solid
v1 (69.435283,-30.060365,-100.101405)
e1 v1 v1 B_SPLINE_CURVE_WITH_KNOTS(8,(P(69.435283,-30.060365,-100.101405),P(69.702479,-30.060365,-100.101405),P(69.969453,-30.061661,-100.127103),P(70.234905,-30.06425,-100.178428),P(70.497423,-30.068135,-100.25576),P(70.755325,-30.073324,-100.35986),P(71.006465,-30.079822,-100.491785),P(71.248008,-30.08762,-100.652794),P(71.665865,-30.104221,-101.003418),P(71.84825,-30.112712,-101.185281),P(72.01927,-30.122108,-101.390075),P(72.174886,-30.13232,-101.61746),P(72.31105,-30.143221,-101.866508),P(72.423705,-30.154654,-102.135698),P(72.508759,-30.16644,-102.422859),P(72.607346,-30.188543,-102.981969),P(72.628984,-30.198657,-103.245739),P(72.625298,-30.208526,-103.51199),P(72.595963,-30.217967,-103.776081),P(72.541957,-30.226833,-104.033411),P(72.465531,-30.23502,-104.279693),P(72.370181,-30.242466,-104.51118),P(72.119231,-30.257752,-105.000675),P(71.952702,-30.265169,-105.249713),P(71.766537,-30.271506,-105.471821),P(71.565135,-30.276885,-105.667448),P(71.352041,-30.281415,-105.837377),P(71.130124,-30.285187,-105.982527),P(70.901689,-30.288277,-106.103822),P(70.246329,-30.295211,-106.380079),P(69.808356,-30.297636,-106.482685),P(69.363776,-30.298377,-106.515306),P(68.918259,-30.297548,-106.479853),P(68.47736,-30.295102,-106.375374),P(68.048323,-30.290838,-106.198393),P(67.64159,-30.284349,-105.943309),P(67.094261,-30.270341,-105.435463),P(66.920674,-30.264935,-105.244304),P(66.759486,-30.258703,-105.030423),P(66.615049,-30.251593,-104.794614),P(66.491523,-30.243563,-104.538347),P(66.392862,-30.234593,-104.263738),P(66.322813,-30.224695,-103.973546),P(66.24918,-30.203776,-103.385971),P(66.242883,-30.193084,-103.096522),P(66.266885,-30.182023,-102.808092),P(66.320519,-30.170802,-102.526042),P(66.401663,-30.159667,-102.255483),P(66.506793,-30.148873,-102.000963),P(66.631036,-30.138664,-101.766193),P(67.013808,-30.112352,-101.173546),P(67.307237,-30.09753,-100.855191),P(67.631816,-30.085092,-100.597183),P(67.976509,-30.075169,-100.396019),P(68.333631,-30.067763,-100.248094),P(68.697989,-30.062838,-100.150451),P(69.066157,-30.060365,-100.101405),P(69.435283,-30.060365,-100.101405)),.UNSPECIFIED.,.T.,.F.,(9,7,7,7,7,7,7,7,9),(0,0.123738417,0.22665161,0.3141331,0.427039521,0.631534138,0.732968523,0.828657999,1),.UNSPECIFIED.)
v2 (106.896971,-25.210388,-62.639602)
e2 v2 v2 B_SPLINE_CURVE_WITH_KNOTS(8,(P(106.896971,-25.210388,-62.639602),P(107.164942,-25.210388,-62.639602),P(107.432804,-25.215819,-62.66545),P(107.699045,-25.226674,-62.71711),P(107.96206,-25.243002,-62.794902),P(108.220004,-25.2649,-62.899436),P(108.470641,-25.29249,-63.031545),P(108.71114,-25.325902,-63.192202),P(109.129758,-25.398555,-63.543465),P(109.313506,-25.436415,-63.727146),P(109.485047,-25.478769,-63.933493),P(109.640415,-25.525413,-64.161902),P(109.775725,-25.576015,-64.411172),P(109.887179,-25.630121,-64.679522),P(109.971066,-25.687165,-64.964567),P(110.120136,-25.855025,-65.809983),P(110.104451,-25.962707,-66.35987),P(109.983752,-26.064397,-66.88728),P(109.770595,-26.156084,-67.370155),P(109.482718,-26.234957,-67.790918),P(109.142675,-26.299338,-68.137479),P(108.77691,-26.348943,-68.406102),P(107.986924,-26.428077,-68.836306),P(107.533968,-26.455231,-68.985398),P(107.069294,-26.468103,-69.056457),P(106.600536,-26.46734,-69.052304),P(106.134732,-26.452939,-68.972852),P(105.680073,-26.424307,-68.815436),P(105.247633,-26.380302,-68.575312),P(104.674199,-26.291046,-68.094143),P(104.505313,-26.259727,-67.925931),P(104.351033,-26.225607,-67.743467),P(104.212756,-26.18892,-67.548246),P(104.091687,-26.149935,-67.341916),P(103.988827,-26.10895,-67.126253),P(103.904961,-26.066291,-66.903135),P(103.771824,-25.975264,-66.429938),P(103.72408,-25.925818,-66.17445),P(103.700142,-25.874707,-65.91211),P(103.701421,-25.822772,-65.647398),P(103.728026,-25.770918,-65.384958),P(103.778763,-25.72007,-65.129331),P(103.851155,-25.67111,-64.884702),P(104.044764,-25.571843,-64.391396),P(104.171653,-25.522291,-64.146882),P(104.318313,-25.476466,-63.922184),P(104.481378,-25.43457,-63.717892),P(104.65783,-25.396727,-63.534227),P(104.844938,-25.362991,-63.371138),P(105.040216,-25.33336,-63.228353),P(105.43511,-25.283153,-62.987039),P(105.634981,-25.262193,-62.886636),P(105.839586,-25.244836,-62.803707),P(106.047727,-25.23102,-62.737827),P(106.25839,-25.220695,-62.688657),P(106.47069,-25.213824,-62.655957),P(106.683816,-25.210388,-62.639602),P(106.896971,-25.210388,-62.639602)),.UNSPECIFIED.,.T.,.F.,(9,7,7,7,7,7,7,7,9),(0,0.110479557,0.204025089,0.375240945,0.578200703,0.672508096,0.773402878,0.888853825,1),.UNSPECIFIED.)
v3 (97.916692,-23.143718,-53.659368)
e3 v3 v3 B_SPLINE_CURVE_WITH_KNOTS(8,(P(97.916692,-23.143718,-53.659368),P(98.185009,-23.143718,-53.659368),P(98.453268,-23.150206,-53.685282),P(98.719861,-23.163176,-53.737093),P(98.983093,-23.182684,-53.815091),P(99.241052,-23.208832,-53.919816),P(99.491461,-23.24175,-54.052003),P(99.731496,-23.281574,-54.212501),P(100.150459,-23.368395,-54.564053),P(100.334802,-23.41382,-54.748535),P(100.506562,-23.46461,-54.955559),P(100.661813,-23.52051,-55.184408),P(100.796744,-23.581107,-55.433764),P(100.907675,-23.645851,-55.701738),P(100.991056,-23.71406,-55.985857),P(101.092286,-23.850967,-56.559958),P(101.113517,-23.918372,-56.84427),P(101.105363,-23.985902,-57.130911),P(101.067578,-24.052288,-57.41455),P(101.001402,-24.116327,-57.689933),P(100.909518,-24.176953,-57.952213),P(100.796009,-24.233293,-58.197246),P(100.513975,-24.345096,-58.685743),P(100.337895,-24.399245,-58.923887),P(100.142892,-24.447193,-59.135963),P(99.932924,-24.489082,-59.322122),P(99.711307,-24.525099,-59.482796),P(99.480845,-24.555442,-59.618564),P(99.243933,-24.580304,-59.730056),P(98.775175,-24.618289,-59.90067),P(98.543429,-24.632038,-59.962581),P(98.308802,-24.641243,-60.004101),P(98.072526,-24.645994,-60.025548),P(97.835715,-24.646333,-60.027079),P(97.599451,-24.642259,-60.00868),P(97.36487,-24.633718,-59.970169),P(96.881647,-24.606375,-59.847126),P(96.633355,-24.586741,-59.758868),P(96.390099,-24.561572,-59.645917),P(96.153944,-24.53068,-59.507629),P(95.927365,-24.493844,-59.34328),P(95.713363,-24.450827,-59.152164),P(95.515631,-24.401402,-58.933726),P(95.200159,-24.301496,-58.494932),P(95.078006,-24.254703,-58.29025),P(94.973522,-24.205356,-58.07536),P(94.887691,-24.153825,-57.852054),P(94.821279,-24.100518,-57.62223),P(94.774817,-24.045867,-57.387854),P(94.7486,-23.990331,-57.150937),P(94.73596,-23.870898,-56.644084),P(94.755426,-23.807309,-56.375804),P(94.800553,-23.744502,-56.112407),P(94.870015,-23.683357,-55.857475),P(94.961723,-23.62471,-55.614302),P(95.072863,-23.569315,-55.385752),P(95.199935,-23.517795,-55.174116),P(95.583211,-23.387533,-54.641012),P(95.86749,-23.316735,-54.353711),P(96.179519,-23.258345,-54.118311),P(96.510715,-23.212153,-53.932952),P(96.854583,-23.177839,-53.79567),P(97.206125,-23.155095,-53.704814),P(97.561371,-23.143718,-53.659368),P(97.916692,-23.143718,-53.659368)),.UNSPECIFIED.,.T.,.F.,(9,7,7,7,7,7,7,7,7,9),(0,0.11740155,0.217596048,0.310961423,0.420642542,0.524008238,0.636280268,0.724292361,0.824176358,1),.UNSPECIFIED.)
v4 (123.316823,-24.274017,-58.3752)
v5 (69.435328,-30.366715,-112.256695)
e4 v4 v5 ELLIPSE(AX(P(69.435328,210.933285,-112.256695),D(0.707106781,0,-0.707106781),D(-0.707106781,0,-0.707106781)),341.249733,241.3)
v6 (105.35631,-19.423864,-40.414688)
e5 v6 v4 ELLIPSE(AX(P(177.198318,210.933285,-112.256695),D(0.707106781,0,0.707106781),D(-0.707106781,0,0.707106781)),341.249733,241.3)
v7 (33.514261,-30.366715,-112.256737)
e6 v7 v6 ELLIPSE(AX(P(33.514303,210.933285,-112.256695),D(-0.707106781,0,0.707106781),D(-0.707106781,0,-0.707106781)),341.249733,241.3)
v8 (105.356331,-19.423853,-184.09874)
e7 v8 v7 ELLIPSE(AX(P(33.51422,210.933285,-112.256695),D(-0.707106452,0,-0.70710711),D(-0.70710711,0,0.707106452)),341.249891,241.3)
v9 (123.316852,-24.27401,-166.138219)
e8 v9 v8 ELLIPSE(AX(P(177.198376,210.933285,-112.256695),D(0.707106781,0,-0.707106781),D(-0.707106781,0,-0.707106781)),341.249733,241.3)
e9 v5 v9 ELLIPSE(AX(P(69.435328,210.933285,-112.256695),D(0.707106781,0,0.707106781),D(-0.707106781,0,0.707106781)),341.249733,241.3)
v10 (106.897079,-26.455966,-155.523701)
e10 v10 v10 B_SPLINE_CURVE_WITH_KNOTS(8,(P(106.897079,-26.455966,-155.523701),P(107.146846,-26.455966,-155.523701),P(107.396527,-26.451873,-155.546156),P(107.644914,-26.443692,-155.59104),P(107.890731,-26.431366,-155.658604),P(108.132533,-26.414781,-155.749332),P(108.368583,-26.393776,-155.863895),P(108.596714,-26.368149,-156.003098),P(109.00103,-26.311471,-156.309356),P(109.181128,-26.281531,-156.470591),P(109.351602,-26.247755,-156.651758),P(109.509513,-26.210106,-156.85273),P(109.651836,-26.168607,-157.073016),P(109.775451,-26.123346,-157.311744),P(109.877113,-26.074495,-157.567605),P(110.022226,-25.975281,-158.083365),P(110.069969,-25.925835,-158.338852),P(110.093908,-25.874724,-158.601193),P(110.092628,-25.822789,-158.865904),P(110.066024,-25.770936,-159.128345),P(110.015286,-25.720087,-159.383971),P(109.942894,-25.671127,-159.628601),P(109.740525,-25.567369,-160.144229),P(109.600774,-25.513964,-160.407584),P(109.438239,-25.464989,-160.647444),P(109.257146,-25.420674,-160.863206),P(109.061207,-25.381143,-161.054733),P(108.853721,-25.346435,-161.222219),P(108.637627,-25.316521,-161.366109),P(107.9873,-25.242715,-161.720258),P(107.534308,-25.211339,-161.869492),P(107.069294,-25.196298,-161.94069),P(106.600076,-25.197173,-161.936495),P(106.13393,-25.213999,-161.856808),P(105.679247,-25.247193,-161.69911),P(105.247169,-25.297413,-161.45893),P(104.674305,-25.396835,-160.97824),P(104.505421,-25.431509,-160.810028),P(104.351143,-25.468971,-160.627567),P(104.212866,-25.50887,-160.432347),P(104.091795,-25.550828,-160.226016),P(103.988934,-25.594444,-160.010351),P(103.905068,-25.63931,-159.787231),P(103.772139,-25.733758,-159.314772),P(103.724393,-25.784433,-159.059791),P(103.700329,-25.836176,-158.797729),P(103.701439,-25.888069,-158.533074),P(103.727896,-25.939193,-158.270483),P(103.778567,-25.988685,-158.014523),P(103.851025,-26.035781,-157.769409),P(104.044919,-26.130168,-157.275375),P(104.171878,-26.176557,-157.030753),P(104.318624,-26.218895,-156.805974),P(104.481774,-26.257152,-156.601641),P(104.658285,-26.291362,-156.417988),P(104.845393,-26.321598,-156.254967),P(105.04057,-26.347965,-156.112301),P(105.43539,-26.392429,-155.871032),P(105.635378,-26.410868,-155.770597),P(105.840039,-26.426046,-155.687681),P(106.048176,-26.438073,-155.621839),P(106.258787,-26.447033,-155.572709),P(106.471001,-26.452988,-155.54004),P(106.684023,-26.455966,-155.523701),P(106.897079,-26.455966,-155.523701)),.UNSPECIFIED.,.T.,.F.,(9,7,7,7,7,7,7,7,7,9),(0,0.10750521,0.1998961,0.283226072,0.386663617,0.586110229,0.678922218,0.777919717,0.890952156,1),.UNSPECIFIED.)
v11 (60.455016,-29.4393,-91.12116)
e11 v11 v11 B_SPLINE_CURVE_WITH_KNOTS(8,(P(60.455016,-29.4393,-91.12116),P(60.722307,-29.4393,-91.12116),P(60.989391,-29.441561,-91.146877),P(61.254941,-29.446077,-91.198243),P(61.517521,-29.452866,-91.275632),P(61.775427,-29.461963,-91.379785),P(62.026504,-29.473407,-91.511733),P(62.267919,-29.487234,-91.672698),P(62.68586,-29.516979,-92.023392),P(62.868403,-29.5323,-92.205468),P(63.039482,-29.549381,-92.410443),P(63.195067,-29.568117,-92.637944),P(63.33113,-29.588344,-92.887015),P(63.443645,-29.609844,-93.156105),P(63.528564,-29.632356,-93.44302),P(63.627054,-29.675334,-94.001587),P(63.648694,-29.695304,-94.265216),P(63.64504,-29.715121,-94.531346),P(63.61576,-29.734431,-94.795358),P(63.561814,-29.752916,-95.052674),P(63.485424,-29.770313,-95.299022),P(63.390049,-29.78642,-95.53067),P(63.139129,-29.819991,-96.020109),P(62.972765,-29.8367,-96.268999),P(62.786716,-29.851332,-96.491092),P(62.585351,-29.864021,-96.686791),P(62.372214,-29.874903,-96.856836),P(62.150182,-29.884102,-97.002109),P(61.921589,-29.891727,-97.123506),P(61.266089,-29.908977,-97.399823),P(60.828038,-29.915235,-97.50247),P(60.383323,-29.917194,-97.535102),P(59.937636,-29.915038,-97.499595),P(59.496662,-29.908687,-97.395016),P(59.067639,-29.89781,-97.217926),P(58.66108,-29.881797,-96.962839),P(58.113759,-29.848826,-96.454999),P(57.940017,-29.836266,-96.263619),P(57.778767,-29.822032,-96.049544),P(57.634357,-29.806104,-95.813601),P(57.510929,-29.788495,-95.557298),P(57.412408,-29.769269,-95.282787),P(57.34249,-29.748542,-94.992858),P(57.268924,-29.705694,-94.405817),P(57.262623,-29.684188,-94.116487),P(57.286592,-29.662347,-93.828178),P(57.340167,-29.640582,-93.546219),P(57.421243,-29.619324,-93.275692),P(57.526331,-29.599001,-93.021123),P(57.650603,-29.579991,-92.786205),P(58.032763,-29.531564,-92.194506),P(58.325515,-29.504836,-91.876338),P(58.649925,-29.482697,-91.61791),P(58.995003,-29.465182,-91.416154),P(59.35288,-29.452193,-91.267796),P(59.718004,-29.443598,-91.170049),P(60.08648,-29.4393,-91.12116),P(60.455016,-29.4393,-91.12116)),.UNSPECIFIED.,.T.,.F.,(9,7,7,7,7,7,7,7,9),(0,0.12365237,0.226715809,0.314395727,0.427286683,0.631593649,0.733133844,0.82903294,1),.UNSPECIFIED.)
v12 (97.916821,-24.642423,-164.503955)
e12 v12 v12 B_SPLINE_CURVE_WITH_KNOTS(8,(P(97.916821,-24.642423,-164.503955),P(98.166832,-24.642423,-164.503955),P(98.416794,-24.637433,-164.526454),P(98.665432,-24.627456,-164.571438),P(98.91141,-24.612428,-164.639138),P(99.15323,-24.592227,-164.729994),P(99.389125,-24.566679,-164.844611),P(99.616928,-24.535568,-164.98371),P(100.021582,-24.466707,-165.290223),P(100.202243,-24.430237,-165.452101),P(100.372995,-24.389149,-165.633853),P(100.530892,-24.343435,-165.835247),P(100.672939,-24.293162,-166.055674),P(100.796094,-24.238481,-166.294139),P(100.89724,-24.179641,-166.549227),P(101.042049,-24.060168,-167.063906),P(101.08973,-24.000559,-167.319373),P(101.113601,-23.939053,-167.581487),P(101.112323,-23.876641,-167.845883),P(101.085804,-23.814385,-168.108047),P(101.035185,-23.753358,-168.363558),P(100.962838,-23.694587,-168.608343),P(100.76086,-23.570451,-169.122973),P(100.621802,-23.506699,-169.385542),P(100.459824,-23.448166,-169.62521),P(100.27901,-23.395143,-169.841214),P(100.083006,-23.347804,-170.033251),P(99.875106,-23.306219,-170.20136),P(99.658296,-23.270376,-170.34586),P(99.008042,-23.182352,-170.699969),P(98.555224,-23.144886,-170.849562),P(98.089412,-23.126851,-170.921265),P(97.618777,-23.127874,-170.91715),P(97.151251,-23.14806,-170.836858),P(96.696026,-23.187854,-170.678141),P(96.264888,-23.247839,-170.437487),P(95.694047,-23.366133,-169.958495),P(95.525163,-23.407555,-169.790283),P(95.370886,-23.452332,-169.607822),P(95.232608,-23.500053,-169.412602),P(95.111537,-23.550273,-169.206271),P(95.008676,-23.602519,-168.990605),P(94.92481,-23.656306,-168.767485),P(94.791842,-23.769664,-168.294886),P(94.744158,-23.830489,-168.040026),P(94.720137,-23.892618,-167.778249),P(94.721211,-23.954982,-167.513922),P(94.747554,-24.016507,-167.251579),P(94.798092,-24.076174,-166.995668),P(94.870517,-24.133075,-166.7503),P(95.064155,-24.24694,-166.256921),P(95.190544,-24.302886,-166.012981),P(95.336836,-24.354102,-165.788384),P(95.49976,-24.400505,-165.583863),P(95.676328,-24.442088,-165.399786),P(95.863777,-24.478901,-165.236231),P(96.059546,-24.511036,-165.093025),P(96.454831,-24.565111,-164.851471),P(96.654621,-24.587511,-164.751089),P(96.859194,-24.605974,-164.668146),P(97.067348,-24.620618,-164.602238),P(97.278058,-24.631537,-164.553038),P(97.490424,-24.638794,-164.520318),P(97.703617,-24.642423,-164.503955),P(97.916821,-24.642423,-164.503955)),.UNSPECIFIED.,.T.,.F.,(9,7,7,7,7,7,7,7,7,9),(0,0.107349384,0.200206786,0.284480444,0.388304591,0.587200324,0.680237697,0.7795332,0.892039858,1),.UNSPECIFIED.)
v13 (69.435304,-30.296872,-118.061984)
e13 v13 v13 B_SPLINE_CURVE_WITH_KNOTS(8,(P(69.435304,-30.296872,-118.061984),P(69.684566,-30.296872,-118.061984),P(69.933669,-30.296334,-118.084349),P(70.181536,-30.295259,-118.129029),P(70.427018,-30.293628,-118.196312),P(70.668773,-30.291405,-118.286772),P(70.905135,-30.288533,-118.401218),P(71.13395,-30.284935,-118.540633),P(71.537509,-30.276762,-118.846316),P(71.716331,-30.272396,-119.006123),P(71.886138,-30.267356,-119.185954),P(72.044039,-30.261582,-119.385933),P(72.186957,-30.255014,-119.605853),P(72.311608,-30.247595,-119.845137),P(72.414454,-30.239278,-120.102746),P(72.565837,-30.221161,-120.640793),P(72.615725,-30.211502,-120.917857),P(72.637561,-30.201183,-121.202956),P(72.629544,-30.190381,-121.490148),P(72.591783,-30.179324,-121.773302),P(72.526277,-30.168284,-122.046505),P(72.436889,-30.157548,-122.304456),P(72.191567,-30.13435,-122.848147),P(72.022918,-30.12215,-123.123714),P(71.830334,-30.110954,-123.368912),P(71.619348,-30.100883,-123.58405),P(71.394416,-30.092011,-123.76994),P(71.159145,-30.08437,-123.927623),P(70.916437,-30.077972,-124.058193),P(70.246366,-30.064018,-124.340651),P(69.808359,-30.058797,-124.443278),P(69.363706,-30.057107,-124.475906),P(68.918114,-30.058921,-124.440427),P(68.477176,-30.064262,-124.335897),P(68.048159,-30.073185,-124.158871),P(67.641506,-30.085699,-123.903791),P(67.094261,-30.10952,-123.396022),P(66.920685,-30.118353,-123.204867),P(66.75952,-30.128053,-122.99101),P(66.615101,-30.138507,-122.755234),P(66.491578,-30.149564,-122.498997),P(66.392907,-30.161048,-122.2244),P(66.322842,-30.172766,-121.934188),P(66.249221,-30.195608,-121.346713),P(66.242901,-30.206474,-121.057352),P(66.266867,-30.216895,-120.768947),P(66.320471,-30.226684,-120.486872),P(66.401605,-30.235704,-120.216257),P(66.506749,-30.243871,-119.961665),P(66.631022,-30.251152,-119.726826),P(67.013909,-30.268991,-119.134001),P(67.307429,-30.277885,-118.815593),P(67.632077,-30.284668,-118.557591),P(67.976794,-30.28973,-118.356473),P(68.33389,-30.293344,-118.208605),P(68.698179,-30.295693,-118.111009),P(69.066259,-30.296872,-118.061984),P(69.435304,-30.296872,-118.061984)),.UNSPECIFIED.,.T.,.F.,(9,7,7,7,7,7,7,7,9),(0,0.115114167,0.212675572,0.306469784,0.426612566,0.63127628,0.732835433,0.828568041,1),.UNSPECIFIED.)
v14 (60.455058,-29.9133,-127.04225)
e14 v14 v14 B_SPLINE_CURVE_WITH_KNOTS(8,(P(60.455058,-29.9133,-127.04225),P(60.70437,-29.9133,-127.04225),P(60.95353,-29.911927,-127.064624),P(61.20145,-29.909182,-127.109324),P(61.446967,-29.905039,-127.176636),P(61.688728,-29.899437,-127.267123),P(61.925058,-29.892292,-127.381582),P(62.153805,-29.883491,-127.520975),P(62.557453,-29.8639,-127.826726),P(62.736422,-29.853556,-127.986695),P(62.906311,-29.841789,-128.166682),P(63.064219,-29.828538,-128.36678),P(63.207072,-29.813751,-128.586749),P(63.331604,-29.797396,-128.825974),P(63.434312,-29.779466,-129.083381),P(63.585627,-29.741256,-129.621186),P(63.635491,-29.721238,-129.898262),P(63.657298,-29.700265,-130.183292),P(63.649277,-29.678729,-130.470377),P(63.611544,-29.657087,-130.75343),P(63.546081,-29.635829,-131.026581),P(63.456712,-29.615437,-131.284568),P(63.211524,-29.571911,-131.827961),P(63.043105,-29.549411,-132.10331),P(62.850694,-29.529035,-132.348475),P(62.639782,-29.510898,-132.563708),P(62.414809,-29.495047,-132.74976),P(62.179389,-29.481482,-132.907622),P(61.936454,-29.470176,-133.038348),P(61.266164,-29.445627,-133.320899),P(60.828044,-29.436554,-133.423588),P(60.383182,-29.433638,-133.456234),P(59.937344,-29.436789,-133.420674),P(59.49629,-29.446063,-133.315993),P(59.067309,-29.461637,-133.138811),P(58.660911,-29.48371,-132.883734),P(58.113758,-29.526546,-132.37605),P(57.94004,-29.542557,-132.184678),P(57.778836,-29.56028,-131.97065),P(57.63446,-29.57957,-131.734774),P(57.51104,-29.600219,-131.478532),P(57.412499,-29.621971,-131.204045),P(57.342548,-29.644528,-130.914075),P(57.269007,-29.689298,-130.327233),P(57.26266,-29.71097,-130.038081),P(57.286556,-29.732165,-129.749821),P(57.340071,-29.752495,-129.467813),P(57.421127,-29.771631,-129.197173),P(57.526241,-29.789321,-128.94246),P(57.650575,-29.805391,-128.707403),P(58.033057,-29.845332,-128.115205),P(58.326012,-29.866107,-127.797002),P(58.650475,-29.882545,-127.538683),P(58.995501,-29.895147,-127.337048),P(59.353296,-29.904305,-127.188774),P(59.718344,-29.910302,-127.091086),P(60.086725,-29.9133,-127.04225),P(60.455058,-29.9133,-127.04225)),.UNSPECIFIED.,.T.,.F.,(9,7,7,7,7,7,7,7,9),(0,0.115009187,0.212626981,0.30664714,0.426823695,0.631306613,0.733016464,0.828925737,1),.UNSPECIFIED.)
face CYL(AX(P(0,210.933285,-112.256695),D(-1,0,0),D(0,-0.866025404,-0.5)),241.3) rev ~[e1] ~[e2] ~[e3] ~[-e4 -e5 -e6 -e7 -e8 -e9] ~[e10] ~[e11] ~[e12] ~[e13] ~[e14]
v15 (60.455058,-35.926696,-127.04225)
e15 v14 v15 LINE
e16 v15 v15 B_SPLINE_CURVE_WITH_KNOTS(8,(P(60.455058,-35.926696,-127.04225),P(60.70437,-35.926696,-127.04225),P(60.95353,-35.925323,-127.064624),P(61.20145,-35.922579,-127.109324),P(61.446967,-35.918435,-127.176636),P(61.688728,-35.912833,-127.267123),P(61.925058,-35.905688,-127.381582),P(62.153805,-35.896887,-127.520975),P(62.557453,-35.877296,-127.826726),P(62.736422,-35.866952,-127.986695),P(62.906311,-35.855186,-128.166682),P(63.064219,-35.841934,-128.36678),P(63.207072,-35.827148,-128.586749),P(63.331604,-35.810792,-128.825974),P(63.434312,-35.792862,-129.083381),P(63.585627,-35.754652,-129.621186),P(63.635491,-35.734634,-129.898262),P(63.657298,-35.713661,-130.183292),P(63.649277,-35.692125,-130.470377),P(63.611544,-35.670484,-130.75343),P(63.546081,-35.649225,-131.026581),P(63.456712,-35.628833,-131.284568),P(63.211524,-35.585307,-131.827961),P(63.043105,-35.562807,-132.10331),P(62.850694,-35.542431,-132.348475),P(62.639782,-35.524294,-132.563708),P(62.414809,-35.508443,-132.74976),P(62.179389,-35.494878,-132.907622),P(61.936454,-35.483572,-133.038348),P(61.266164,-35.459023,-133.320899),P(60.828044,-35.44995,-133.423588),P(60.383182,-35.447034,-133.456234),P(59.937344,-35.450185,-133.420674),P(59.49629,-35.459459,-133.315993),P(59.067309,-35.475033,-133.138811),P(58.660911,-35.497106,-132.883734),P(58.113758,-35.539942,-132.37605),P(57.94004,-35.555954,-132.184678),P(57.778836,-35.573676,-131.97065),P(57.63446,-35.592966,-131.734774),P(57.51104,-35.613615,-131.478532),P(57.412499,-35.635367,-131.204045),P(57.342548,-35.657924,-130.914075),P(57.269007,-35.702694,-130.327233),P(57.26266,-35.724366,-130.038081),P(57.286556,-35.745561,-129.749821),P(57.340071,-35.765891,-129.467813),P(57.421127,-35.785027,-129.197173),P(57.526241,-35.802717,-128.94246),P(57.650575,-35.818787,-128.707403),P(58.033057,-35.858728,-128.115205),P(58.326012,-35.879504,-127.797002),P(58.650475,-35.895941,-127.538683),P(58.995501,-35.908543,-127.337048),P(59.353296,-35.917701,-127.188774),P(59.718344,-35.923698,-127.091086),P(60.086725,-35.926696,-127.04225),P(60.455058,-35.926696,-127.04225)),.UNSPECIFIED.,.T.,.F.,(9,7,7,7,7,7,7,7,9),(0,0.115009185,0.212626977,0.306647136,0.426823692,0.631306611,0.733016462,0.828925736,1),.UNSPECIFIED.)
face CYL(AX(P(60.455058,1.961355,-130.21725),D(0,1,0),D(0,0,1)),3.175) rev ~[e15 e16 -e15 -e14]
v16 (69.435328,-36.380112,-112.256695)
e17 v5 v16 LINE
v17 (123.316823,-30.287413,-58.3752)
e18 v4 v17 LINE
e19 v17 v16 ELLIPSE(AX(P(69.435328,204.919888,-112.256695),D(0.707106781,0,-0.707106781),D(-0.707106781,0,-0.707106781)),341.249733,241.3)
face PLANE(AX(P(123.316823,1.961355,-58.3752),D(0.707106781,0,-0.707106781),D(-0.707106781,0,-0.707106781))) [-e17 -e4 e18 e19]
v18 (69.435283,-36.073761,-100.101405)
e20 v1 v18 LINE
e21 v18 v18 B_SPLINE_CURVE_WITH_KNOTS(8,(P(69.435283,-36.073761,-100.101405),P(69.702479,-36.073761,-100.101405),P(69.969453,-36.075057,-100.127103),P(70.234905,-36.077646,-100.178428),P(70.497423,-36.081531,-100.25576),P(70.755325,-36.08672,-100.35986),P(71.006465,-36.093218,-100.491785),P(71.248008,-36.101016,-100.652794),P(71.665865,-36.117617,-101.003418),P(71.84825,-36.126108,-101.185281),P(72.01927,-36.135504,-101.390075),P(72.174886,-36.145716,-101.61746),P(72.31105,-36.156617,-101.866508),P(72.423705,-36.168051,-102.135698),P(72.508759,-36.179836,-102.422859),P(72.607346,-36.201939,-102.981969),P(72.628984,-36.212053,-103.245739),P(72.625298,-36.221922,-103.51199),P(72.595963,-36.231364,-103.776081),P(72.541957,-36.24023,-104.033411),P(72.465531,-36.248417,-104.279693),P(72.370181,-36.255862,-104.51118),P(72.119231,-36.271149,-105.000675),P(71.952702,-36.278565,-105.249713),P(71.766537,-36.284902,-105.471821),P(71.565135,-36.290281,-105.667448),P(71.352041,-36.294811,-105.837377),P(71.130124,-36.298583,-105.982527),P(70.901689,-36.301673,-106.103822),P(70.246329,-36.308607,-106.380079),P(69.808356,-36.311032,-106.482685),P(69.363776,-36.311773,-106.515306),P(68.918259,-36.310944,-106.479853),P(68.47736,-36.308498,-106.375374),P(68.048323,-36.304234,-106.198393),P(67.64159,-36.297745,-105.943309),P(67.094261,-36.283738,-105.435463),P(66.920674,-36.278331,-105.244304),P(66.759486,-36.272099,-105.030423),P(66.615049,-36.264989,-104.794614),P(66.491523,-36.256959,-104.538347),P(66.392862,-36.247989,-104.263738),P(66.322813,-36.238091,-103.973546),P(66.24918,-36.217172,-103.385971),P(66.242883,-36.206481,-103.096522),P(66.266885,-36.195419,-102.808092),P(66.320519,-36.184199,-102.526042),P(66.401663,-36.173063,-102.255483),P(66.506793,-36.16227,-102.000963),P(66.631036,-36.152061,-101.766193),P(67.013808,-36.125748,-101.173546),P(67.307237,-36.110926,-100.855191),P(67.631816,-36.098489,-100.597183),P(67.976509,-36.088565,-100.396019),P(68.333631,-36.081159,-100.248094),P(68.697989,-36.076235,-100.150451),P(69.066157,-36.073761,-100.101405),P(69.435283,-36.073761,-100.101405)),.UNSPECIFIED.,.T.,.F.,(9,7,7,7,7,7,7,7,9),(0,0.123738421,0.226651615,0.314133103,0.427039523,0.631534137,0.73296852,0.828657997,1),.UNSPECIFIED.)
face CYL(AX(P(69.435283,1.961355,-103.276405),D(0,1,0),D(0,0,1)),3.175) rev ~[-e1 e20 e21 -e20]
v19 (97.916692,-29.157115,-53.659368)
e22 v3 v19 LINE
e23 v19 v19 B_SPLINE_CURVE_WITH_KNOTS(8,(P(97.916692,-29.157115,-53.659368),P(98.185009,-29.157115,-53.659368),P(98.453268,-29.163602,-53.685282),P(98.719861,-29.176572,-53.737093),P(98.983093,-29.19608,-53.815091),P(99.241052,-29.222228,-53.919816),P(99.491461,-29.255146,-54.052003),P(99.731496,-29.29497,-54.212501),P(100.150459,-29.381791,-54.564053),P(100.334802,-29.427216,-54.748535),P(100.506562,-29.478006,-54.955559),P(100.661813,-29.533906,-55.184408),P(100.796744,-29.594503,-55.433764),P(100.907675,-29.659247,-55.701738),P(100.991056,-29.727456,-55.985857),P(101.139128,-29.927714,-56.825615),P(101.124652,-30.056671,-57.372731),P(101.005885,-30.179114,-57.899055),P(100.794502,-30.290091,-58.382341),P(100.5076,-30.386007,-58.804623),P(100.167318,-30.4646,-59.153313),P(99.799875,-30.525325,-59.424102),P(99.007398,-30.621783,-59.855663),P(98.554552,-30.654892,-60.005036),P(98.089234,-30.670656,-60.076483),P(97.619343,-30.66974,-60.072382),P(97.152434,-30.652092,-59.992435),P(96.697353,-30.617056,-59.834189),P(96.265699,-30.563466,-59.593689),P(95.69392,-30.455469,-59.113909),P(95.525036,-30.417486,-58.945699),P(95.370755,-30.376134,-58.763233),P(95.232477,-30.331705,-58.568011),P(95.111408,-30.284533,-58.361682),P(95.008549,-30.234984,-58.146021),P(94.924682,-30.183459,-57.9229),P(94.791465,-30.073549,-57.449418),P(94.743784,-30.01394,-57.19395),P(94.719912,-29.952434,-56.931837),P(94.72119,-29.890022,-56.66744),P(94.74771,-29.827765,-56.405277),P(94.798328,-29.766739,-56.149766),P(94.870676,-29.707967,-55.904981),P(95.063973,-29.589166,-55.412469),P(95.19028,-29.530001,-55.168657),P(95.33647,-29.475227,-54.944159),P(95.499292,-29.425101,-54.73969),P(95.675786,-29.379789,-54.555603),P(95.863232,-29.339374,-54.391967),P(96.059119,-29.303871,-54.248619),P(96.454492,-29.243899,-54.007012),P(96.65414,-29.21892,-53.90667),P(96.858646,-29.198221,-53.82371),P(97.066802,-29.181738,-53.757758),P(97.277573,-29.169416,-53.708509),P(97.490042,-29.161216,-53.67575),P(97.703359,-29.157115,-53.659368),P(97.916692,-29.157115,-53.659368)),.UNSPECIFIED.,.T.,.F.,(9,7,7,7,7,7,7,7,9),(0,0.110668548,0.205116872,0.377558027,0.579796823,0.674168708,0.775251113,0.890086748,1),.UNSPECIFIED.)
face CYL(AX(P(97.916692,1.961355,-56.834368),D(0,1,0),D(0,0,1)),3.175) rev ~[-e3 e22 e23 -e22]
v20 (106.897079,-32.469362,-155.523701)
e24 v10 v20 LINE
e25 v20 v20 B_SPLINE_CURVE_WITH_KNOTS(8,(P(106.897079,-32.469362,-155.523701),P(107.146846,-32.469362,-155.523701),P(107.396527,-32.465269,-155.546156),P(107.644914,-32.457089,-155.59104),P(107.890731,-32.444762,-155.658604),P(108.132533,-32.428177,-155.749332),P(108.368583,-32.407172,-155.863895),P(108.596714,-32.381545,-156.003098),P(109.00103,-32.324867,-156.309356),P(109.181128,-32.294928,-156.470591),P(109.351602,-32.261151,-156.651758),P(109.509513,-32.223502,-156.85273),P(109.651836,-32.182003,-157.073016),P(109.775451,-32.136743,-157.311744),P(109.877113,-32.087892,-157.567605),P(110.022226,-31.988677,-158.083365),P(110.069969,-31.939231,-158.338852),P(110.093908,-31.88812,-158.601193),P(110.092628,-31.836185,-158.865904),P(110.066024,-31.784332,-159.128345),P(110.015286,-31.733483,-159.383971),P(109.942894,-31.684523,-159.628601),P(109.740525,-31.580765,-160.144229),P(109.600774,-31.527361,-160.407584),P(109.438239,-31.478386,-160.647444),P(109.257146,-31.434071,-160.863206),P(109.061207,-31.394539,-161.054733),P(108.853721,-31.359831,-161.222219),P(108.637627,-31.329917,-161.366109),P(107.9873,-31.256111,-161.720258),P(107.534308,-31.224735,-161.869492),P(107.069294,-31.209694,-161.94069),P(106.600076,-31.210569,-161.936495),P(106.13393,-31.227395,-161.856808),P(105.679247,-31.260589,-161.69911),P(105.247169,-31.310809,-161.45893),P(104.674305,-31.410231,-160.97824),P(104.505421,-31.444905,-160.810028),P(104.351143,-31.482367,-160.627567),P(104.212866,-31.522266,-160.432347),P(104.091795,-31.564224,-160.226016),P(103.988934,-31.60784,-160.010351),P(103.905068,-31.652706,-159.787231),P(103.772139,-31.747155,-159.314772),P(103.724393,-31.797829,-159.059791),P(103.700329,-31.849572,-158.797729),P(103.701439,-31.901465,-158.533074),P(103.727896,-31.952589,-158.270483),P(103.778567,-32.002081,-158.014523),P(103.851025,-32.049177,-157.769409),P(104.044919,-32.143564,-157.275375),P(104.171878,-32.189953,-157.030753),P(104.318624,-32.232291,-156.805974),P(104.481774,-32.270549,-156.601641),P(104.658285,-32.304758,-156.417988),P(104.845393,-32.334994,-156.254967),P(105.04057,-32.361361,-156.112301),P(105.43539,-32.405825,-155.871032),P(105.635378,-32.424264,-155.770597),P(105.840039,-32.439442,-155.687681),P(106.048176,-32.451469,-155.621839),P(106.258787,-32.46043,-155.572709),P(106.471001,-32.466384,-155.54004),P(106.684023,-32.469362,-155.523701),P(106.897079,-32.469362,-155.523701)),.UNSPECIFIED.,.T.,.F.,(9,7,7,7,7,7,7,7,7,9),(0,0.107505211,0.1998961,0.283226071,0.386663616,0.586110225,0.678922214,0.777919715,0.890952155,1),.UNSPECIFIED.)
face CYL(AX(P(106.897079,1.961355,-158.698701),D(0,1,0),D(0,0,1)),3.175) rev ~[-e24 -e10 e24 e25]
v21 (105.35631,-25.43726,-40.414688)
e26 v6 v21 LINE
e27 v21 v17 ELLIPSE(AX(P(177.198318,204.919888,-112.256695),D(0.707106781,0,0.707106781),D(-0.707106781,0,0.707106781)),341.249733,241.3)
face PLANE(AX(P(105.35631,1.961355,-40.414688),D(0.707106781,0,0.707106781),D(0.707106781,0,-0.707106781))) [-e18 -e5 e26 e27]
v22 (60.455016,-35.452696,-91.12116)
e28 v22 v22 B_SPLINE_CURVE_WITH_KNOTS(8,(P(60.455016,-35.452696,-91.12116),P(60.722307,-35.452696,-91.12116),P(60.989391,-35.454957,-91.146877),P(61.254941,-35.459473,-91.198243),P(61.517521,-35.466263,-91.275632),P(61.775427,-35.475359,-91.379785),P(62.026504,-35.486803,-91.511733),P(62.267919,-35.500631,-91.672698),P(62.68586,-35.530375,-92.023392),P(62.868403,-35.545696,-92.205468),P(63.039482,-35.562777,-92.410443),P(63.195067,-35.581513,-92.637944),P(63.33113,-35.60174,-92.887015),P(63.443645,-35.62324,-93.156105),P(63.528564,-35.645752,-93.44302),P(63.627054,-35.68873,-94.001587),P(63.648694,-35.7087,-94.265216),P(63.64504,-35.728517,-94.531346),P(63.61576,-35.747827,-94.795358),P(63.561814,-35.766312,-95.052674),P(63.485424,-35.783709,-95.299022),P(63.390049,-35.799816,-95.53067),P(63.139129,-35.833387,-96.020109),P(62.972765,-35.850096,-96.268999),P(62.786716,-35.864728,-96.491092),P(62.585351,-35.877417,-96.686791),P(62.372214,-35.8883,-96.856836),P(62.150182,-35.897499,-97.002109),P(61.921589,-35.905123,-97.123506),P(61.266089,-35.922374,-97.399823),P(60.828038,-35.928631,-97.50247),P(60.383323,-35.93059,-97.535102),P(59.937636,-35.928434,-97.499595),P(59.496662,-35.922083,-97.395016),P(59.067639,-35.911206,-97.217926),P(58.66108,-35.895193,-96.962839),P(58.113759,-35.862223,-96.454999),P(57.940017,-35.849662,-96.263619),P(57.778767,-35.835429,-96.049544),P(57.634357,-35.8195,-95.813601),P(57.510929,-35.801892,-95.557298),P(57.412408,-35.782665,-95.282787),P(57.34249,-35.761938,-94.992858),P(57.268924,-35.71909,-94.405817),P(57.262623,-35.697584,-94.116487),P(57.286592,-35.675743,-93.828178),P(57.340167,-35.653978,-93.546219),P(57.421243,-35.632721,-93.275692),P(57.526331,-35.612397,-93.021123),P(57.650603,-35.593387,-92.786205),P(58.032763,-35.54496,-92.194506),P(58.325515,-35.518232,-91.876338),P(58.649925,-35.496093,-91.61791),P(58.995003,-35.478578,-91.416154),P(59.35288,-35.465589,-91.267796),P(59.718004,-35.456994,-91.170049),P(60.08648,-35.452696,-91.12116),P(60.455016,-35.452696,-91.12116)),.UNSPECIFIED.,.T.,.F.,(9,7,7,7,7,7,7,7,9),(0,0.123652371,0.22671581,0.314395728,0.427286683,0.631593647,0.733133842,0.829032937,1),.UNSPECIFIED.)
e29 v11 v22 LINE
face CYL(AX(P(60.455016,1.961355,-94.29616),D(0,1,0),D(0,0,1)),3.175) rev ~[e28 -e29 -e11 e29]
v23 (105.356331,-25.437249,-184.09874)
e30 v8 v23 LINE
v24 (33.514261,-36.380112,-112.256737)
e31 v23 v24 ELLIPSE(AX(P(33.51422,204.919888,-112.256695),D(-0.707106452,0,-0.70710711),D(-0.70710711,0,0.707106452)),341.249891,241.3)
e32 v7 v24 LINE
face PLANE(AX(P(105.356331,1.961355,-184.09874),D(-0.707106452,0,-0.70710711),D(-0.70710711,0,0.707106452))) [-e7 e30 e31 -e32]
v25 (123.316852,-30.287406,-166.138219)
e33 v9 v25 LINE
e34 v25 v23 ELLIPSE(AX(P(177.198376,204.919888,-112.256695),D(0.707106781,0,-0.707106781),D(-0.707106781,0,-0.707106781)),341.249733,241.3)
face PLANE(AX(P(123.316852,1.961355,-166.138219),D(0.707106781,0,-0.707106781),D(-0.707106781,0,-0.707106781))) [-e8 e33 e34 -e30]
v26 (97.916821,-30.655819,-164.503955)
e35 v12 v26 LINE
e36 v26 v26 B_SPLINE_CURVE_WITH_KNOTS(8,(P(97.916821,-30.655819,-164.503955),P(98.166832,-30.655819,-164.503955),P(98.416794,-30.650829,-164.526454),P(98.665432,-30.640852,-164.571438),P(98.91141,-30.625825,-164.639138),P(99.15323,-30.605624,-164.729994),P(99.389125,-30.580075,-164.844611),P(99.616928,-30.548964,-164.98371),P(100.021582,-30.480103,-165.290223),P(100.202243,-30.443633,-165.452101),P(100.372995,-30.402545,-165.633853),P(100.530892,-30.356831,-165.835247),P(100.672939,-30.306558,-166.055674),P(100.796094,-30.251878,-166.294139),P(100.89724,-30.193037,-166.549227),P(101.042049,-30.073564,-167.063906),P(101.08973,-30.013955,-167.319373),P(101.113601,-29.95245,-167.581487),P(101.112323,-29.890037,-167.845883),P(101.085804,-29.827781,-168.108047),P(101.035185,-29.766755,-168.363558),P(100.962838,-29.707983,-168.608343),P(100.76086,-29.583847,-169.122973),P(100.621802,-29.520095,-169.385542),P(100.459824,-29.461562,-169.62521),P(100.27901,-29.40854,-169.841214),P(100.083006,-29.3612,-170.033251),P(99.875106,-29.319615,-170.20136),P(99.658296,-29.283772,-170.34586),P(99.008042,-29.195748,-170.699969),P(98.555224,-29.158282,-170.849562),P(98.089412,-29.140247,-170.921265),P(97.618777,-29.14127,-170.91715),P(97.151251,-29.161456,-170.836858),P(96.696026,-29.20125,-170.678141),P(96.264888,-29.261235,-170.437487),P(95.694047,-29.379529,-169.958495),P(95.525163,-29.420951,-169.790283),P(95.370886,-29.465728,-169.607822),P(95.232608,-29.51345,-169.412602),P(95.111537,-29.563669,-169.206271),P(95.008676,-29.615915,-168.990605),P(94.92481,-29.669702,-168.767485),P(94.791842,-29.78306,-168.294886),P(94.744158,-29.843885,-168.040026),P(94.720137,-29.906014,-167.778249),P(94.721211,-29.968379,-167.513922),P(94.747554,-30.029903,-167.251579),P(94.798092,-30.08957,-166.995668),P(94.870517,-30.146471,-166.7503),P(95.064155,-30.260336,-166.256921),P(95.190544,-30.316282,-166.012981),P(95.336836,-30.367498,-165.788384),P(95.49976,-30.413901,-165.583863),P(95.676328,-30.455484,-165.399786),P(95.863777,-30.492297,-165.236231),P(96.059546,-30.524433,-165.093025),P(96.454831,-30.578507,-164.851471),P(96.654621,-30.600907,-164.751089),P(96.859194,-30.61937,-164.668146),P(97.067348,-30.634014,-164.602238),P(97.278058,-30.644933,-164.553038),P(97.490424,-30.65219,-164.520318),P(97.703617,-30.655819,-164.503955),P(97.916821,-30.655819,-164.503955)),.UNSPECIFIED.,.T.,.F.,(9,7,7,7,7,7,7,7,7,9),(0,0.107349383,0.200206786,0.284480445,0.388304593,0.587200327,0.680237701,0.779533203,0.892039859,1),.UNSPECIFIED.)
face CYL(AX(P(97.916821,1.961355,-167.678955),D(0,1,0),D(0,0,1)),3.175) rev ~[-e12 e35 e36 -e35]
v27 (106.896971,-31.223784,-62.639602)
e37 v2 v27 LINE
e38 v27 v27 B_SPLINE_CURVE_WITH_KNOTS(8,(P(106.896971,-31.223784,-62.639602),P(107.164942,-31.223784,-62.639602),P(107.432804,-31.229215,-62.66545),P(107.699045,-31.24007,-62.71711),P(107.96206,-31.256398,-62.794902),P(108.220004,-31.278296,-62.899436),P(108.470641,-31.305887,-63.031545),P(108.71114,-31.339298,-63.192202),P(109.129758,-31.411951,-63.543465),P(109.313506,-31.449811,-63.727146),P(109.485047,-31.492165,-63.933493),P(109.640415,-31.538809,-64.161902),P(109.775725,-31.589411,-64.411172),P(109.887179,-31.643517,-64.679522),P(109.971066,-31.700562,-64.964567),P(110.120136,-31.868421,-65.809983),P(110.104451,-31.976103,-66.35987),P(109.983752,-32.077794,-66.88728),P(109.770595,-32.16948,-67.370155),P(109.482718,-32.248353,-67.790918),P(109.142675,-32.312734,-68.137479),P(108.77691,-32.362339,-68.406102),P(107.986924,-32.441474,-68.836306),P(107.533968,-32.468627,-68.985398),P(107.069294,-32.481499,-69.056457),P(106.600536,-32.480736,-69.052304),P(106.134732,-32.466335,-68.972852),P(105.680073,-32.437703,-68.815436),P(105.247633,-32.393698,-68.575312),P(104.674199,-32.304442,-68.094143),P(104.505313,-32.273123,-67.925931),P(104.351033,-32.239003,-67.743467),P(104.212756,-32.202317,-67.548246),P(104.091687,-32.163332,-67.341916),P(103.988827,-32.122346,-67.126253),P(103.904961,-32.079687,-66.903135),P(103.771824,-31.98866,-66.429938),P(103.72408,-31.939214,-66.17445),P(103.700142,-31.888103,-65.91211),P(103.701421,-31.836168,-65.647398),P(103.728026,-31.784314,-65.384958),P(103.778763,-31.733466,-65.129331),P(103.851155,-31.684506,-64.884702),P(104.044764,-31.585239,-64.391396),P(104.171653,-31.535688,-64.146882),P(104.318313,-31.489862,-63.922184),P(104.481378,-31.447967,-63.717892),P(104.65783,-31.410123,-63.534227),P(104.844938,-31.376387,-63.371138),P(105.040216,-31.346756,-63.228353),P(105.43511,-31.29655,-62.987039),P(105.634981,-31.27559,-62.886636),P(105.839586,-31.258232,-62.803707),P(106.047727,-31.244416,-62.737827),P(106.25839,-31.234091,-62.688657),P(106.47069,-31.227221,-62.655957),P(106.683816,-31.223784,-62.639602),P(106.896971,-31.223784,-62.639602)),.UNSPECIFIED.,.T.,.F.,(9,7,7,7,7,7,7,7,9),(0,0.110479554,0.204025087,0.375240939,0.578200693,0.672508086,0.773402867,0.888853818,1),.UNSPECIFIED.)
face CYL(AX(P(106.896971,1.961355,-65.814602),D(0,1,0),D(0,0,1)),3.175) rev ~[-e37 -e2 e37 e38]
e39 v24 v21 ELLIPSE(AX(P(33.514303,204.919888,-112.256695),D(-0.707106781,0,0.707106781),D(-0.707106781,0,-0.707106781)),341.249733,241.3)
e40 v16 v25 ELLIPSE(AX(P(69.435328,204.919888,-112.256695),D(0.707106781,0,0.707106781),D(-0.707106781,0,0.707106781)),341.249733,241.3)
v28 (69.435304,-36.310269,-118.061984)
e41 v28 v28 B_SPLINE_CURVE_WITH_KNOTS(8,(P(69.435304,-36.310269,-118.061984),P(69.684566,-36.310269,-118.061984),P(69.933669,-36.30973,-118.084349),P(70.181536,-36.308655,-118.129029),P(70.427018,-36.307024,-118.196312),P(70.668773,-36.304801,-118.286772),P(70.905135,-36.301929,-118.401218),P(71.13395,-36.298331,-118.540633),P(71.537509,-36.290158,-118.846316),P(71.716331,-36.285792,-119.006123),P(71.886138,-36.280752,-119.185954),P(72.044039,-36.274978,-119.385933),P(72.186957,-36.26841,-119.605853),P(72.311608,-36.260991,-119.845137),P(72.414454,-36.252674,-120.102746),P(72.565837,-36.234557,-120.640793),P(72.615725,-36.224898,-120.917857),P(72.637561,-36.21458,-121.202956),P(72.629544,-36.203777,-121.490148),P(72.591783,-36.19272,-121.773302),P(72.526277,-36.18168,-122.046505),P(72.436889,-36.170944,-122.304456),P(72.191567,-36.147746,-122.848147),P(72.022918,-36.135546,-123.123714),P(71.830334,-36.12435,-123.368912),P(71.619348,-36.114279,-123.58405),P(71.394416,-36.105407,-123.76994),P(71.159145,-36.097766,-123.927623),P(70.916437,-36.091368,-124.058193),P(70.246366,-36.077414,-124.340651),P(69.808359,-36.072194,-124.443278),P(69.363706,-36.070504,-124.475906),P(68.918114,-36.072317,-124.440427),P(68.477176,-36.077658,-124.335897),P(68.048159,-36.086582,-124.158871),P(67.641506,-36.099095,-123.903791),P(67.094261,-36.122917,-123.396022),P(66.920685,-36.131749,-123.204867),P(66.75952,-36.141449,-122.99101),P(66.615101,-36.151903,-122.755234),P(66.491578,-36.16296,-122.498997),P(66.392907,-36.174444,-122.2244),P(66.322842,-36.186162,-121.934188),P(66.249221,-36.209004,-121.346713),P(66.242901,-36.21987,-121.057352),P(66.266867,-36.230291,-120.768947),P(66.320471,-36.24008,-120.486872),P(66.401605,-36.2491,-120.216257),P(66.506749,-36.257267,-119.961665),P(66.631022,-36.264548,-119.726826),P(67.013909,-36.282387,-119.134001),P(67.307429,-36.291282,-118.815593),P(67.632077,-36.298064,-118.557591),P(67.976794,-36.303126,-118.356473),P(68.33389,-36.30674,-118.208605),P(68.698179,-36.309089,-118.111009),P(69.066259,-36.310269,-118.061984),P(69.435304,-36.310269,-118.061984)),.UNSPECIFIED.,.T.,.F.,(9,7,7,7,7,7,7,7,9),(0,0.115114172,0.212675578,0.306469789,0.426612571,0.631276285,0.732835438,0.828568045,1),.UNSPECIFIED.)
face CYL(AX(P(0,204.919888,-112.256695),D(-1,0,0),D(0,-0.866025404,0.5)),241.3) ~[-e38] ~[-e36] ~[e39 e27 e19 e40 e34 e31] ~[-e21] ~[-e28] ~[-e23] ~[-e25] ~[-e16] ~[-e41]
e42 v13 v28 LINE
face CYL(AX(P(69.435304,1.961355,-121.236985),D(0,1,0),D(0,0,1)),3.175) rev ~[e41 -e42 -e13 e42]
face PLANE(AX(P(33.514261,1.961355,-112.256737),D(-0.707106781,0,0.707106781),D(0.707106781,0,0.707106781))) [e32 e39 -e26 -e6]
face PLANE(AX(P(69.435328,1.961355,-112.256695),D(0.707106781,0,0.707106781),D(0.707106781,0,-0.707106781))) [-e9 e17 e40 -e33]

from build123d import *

# Parameters (mm, degrees)
BOSS_EXTRUDE4_DEPTH = 304.8
SKETCH4_OUTSIDE_W   = 384.928
SKETCH4_OUTSIDE_H   = 321.428
CUT_EXTRUDE2_DEPTH  = 150
SKETCH6_R           = 3.175
CUT_EXTRUDE5_DEPTH  = 150


with BuildPart() as part:
    # Sketch3 → Boss-Extrude4 (new body)
    with BuildSketch(Plane(origin=(0, 0, 0), x_dir=(0, 0, -1), z_dir=(1, 0, 0))):
        with BuildLine():
            ThreePointArc((232.90669496, 1.961354585), (112.25669496, -30.366715482), (-8.39330504, 1.961354585))
            Line((-8.39330504, 1.961354585), (-8.39330504, -4.052041589))
            ThreePointArc((-8.39330504, -4.052041589), (112.25669496, -36.380111656), (232.90669496, -4.052041589))
            Line((232.90669496, -4.052041589), (232.90669496, 1.961354585))
        make_face()
    extrude(amount=BOSS_EXTRUDE4_DEPTH)

    # Sketch4 outside → Cut-Extrude2 (cut)
    with BuildSketch(Plane(origin=(0, 1.961354585, 0), x_dir=(1, 0, 0), z_dir=(0, 1, 0))):
        with Locations((152.4, 112.257)):
            Rectangle(SKETCH4_OUTSIDE_W, SKETCH4_OUTSIDE_H)
        Polygon((105.356331211, 184.098739751), (33.514261355, 112.256736733), (105.356310324, 40.414687765), (123.316822566, 58.375200007), (69.435327613, 112.25669496), (123.316851808, 166.138219154), align=None, mode=Mode.SUBTRACT)
    extrude(amount=-CUT_EXTRUDE2_DEPTH, mode=Mode.SUBTRACT)

    # Sketch6 → Cut-Extrude5 (cut)
    with BuildSketch(Plane(origin=(0, 1.961354585, 0), x_dir=(1, 0, 0), z_dir=(0, 1, 0))):
        with Locations(Location((97.916821174, 167.678955491, 0), (0, 0, 270))):
            Circle(SKETCH6_R)
        with Locations(Location((106.897078687, 158.698700762, 0), (0, 0, 270))):
            Circle(SKETCH6_R)
        with Locations(Location((60.455057568, 130.217250368, 0), (0, 0, 270))):
            Circle(SKETCH6_R)
        with Locations(Location((69.435303942, 121.2369845, 0), (0, 0, 270))):
            Circle(SKETCH6_R)
        with Locations(Location((60.455015794, 94.296160438, 0), (0, 0, 270))):
            Circle(SKETCH6_R)
        with Locations(Location((69.435283055, 103.27640542, 0), (0, 0, 270))):
            Circle(SKETCH6_R)
        with Locations(Location((106.89697067, 65.814602027, 0), (0, 0, 270))):
            Circle(SKETCH6_R)
        with Locations(Location((97.916692269, 56.834368185, 0), (0, 0, 270))):
            Circle(SKETCH6_R)
    extrude(amount=-CUT_EXTRUDE5_DEPTH, mode=Mode.SUBTRACT)


solid = part.part
